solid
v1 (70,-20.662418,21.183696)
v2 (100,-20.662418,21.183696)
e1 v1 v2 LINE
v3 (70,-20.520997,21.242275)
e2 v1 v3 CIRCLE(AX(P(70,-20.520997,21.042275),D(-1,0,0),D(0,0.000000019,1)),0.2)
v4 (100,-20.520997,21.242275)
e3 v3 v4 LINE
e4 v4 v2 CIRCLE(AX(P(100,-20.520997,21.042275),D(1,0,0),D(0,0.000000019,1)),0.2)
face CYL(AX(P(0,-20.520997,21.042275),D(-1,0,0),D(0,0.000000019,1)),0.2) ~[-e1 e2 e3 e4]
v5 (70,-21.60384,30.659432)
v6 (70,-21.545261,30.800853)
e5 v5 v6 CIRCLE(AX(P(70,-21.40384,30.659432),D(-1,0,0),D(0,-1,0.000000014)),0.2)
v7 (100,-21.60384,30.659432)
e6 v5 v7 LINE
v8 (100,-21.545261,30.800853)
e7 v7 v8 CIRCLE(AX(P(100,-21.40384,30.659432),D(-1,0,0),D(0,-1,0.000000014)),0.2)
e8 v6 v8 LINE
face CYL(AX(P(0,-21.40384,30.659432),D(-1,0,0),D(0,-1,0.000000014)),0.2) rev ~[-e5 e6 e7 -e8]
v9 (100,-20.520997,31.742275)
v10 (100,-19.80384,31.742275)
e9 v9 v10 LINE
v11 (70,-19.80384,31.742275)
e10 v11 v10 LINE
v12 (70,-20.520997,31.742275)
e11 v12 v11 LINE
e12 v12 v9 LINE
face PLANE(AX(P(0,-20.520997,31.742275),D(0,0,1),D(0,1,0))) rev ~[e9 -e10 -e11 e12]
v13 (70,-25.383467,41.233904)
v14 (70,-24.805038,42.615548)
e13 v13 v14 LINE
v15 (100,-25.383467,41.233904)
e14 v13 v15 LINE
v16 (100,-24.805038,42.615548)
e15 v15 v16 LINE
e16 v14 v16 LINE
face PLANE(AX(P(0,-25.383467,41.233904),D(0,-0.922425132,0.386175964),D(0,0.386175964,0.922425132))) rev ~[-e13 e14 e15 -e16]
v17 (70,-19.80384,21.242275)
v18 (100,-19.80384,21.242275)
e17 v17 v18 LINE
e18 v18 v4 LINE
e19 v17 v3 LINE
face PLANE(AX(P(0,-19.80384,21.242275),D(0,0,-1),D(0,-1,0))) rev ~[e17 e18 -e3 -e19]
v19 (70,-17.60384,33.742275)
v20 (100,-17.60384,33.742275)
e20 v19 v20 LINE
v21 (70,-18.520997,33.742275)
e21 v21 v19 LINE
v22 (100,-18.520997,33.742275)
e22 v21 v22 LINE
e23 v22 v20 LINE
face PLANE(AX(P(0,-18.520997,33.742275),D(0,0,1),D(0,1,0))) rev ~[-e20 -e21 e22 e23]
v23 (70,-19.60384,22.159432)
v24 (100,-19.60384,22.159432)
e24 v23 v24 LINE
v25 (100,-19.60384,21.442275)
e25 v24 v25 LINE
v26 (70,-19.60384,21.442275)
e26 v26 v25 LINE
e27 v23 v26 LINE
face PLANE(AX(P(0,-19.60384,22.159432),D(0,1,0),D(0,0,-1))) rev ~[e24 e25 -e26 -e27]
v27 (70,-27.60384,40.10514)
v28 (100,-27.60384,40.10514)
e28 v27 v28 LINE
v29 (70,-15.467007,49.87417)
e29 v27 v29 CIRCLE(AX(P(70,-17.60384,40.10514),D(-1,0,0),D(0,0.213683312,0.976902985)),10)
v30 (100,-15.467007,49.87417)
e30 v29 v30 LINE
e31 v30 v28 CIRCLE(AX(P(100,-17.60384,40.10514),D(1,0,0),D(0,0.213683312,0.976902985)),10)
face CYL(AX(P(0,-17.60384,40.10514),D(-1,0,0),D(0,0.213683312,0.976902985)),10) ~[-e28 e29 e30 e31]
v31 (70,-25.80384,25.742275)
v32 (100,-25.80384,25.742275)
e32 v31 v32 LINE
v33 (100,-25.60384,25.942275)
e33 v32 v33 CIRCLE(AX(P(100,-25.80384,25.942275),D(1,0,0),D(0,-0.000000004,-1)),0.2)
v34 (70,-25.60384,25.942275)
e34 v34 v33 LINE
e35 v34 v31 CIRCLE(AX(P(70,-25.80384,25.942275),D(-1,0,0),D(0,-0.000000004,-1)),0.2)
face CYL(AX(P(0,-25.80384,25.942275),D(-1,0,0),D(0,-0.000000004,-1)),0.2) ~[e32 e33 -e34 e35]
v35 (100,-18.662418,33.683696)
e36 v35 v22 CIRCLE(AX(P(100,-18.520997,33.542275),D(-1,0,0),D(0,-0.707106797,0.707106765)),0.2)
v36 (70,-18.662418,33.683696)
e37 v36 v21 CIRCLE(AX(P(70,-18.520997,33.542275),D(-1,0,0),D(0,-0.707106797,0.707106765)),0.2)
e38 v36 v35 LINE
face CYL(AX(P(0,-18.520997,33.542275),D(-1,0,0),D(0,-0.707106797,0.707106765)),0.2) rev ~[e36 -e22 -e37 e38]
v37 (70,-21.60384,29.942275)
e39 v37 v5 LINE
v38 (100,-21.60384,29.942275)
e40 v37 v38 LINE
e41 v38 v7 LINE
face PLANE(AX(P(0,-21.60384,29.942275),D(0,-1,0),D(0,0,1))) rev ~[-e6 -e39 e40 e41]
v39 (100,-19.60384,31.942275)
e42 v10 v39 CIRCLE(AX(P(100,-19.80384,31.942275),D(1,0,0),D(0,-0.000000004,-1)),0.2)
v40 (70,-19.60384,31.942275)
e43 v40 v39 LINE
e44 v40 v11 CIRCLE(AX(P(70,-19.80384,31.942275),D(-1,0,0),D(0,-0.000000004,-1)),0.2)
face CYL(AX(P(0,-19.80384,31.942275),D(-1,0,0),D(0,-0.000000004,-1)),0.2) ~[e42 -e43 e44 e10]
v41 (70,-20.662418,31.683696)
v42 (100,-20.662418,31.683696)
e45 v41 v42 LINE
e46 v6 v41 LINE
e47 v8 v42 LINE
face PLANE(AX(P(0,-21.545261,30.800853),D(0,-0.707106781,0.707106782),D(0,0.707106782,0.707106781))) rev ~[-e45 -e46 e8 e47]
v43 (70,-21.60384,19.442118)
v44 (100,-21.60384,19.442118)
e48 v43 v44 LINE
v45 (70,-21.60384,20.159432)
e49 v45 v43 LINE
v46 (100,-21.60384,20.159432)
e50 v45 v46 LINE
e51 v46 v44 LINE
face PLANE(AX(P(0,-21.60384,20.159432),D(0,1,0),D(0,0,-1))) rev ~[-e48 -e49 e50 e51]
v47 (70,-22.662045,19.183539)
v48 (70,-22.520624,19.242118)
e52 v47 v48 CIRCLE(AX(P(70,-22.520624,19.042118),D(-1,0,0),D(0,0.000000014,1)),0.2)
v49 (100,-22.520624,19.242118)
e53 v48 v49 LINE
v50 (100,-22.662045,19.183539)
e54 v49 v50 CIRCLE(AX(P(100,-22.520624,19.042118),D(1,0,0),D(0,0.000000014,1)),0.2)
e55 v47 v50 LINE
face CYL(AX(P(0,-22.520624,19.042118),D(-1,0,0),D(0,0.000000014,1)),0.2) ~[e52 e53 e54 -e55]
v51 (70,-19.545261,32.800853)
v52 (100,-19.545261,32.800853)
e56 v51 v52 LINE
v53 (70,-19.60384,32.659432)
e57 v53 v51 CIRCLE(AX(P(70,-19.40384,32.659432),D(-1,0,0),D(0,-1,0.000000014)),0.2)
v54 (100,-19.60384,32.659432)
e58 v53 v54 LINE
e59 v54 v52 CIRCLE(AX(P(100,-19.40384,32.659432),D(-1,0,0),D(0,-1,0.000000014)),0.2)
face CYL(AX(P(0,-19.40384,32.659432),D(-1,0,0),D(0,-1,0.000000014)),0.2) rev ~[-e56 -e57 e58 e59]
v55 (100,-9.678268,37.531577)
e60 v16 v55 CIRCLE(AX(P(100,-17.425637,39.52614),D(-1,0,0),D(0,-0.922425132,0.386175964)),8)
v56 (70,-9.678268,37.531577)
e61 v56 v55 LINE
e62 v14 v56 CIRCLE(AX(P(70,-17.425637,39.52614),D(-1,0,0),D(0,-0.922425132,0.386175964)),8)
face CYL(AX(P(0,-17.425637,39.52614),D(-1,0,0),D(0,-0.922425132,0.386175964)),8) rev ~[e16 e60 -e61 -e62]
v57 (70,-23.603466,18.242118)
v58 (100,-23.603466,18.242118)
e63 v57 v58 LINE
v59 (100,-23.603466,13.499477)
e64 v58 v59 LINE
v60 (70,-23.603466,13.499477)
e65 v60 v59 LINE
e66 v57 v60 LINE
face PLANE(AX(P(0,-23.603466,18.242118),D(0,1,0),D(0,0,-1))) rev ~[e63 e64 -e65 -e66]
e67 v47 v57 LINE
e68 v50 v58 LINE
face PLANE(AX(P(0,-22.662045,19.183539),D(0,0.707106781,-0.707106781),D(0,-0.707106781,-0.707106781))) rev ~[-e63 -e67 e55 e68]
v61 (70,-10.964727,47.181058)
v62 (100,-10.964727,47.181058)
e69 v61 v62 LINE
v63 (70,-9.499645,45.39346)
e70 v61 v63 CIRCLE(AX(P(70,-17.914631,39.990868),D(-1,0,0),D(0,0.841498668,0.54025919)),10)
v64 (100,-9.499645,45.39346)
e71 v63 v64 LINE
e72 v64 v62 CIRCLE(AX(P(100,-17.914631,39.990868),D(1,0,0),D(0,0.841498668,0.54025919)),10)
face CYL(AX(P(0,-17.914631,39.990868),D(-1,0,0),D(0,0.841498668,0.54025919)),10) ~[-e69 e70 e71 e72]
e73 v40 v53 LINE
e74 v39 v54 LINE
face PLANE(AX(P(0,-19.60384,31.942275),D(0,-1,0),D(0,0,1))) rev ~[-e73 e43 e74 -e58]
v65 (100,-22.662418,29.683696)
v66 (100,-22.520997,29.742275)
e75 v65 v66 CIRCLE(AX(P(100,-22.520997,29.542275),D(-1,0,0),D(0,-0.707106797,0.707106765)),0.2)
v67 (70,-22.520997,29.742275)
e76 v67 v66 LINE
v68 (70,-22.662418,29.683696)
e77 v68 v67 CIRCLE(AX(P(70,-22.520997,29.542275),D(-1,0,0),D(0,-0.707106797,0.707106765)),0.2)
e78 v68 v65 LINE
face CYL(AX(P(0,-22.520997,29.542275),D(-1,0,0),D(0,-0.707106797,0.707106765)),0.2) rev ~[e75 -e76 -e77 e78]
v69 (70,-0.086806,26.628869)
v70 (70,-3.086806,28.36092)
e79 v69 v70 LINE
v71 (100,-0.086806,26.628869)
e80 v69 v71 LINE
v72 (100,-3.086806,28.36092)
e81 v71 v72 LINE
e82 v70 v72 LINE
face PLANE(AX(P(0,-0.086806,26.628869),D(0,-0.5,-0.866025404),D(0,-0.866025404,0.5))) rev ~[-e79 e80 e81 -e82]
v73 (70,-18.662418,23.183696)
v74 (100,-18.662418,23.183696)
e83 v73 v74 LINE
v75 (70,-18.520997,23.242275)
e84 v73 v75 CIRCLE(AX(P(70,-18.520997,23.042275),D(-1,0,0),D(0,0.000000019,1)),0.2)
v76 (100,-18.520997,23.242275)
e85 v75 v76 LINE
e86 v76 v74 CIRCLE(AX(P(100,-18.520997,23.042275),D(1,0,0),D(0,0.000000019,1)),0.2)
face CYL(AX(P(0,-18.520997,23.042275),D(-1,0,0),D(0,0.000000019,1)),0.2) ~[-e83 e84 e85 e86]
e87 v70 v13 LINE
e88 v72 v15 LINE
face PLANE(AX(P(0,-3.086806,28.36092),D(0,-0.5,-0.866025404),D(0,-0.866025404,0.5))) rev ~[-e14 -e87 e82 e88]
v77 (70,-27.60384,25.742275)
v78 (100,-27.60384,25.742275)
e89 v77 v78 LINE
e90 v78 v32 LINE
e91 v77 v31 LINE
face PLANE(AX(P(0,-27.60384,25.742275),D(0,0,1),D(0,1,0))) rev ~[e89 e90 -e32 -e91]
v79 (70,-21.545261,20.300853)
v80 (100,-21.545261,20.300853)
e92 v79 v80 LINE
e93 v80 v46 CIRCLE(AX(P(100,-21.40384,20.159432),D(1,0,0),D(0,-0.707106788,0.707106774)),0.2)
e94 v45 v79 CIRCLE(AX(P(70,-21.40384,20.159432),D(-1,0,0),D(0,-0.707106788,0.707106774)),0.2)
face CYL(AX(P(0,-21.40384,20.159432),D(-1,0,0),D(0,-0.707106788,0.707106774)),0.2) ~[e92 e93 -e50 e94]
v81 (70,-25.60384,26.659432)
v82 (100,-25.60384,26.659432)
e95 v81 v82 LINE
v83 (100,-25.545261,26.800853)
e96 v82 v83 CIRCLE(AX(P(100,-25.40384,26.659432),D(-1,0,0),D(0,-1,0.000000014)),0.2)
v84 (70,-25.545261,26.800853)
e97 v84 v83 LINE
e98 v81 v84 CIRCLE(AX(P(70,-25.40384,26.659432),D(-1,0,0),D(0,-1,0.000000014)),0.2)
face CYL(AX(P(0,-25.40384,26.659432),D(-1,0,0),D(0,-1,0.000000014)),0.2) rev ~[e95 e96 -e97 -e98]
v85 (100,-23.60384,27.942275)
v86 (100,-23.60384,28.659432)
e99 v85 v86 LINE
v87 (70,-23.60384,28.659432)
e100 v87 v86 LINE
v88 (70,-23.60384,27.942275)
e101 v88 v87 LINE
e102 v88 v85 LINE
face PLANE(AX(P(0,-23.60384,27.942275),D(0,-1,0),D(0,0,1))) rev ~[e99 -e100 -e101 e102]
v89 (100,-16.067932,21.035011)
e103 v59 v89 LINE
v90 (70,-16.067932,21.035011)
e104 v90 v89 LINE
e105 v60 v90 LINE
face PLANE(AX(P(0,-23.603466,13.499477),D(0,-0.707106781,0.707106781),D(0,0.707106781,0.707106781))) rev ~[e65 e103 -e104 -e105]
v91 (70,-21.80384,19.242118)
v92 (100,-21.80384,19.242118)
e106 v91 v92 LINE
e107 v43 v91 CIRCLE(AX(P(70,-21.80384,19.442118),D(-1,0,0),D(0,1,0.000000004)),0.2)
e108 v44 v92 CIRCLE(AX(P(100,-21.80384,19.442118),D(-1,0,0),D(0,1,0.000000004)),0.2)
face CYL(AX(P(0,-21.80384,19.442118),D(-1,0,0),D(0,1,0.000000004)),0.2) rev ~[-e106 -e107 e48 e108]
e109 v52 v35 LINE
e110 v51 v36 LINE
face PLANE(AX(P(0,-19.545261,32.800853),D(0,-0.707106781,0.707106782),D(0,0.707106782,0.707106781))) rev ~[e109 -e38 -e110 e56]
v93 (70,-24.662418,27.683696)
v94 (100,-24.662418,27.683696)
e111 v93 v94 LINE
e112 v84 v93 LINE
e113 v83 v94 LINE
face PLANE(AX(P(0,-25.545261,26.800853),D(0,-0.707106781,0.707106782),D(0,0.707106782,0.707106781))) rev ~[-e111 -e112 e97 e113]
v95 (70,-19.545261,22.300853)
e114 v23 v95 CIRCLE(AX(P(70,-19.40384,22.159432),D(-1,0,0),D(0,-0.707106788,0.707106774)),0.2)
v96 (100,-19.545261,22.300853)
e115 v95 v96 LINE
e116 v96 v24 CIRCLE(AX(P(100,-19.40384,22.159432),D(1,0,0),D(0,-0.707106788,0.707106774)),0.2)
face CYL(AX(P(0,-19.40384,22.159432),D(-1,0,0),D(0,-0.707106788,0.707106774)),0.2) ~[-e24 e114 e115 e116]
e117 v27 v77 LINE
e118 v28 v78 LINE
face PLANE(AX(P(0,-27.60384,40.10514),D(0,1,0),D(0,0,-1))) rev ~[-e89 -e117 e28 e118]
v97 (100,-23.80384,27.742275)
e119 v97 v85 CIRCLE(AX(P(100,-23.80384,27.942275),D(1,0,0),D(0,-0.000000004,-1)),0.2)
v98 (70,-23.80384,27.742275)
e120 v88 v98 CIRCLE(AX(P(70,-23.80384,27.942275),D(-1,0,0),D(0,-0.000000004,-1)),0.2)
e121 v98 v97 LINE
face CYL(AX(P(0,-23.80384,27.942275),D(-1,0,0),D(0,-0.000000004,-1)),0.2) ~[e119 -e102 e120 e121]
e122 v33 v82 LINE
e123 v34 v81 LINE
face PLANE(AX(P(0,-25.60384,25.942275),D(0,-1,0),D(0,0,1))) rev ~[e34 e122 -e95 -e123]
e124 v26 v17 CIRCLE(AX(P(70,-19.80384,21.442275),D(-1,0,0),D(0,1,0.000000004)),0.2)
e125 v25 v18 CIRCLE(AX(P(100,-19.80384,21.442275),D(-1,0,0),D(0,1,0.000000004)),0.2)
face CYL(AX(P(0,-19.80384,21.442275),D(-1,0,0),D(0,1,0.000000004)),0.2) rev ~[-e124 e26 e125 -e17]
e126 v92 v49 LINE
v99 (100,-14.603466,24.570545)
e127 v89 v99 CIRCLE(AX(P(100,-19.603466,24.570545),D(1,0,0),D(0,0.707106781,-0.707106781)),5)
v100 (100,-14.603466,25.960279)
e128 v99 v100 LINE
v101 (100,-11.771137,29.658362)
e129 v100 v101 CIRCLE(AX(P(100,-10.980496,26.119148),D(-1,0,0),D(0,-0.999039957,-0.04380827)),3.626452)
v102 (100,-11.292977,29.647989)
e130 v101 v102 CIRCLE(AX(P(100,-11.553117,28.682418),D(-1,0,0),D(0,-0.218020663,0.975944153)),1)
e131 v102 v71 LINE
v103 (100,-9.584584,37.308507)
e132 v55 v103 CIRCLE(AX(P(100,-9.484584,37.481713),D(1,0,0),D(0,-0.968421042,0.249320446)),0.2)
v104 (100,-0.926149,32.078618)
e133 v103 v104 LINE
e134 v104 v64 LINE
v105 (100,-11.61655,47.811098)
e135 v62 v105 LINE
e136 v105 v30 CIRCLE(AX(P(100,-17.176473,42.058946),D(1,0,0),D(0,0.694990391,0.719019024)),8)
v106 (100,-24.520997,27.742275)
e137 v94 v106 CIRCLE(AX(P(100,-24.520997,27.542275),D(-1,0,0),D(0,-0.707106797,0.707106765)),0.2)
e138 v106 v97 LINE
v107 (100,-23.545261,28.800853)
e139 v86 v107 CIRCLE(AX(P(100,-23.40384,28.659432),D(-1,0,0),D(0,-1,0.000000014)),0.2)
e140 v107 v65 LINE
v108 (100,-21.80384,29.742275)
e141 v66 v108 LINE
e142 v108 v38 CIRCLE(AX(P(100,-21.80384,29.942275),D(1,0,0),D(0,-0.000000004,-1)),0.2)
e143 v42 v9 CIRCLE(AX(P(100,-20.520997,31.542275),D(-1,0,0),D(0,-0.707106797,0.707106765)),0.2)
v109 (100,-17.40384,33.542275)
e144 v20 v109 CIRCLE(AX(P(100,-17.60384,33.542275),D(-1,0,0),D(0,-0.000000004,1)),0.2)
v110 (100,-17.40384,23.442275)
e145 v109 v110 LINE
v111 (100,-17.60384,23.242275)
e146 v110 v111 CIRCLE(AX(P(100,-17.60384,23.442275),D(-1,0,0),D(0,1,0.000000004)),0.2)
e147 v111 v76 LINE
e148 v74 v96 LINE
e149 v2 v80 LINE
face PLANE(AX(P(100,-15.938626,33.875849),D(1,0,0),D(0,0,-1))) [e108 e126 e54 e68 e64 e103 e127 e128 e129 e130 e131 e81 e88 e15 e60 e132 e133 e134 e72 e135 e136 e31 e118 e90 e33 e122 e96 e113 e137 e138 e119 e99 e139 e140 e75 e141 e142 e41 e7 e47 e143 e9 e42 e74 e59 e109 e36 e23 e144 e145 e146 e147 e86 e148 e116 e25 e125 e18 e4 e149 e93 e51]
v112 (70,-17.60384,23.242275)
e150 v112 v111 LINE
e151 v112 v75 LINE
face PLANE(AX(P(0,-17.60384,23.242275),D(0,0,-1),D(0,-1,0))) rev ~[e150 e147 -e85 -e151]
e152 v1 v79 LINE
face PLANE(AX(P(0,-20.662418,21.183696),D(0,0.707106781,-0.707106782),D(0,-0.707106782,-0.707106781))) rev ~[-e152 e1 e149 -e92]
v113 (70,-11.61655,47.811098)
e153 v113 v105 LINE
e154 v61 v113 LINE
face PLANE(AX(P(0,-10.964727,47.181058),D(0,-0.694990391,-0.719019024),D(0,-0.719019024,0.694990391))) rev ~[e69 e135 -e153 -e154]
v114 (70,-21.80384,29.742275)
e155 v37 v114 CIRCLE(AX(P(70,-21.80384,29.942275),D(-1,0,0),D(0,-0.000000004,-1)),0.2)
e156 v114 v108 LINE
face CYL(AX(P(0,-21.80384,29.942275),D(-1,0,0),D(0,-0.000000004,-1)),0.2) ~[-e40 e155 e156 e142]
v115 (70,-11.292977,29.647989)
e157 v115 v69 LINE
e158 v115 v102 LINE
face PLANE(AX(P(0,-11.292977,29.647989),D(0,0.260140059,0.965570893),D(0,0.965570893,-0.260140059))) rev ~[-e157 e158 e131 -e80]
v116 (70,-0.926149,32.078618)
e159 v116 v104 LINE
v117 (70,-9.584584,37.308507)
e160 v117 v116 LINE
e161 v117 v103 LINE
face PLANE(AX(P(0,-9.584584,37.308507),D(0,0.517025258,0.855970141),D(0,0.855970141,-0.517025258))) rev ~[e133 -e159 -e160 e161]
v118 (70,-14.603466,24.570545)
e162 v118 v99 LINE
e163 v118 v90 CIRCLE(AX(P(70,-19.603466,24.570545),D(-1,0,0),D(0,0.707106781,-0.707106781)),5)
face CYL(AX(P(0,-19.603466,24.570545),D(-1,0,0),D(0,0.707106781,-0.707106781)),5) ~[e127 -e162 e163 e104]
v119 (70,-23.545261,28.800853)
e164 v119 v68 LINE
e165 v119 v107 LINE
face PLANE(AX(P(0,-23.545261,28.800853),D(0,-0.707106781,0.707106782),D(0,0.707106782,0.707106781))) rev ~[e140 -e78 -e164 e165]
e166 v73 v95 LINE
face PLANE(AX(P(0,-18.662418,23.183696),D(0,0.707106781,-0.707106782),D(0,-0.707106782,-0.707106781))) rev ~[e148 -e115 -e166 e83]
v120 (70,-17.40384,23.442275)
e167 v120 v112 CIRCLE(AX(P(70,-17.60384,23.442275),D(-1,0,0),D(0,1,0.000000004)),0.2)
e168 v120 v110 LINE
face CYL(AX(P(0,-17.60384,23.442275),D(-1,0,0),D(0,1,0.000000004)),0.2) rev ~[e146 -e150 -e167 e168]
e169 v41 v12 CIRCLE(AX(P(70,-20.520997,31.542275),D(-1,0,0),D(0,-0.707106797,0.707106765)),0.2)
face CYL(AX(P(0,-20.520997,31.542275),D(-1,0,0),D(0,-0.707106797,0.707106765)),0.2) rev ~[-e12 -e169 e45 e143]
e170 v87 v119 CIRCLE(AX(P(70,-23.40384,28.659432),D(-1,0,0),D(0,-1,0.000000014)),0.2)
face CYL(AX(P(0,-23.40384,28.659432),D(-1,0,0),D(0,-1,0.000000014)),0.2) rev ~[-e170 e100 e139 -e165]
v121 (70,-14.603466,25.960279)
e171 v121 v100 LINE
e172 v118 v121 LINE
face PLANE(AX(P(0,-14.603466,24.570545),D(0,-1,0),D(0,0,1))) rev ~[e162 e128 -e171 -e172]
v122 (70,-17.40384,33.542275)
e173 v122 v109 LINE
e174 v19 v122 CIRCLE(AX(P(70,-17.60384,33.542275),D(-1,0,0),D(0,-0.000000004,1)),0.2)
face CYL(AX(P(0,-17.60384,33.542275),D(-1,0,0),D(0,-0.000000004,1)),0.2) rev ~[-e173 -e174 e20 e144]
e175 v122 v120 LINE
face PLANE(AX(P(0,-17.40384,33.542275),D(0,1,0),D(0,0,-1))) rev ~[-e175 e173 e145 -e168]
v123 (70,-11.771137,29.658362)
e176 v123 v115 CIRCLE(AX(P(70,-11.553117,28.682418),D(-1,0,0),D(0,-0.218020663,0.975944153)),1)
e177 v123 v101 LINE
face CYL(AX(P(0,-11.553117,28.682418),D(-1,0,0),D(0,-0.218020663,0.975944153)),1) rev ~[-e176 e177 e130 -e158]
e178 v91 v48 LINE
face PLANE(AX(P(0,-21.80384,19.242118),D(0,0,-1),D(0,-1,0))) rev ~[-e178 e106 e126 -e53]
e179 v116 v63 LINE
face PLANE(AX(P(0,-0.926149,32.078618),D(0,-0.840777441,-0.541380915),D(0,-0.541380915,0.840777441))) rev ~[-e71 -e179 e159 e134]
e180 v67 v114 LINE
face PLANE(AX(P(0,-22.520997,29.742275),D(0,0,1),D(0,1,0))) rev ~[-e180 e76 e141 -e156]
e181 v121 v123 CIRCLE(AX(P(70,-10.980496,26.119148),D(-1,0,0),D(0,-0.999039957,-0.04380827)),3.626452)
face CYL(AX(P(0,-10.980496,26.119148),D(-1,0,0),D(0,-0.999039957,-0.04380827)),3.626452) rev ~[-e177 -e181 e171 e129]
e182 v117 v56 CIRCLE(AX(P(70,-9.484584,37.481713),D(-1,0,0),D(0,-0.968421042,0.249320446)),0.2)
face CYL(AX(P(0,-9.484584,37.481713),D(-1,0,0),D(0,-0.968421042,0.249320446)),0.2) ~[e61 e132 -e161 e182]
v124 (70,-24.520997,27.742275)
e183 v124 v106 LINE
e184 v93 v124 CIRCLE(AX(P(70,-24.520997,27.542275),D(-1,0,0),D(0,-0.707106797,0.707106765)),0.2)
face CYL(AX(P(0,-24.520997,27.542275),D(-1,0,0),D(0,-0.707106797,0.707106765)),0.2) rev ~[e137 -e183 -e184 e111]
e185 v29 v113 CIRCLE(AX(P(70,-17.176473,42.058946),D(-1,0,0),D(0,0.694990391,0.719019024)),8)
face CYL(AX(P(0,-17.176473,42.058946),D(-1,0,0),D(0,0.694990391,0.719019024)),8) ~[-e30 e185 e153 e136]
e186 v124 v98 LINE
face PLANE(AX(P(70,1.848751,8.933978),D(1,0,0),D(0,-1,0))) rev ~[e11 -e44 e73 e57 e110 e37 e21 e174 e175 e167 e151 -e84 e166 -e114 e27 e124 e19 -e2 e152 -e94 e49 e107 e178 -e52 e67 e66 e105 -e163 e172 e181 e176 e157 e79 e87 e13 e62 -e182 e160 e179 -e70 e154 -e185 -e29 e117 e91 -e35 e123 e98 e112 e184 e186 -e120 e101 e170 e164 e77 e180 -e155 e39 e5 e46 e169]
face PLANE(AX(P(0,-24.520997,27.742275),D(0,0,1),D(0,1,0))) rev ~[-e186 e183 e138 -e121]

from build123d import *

# Parameters (mm, degrees)
BOSS_EXTRUDE1_DEPTH     = 100
CUT_EXTRUDE1_DEPTH      = 25
CUT_EXTRUDE1_DEPTH_BACK = 23


with BuildPart() as part:
    # Sketch1 → Boss-Extrude1 (new body)
    with BuildSketch(Plane(origin=(0, 0, 0), x_dir=(0, 0, -1), z_dir=(1, 0, 0))):
        with BuildLine():
            Line((-25.742274507, -27.603839777), (-25.742274507, -25.803839777))
            ThreePointArc((-25.742274507, -25.803839777), (-25.800853151, -25.66241842), (-25.942274507, -25.603839777))
            Line((-25.942274507, -25.603839777), (-26.659431795, -25.603839777))
            ThreePointArc((-26.659431795, -25.603839777), (-26.735968481, -25.588615683), (-26.800853151, -25.545261133))
            Line((-26.800853151, -25.545261133), (-27.683695863, -24.66241842))
            ThreePointArc((-27.683695863, -24.66241842), (-27.727050414, -24.597533751), (-27.742274507, -24.520997064))
            Line((-27.742274507, -24.520997064), (-27.742274507, -23.803839777))
            ThreePointArc((-27.742274507, -23.803839777), (-27.800853151, -23.66241842), (-27.942274507, -23.603839777))
            Line((-27.942274507, -23.603839777), (-28.659431795, -23.603839777))
            ThreePointArc((-28.659431795, -23.603839777), (-28.735968481, -23.588615683), (-28.800853151, -23.545261133))
            Line((-28.800853151, -23.545261133), (-29.683695863, -22.66241842))
            ThreePointArc((-29.683695863, -22.66241842), (-29.727050414, -22.597533751), (-29.742274507, -22.520997064))
            Line((-29.742274507, -22.520997064), (-29.742274507, -21.803839777))
            ThreePointArc((-29.742274507, -21.803839777), (-29.800853151, -21.66241842), (-29.942274507, -21.603839777))
            Line((-29.942274507, -21.603839777), (-30.659431795, -21.603839777))
            ThreePointArc((-30.659431795, -21.603839777), (-30.735968481, -21.588615683), (-30.800853151, -21.545261133))
            Line((-30.800853151, -21.545261133), (-31.683695863, -20.66241842))
            ThreePointArc((-31.683695863, -20.66241842), (-31.727050414, -20.597533751), (-31.742274507, -20.520997064))
            Line((-31.742274507, -20.520997064), (-31.742274507, -19.803839777))
            ThreePointArc((-31.742274507, -19.803839777), (-31.800853151, -19.66241842), (-31.942274507, -19.603839777))
            Line((-31.942274507, -19.603839777), (-32.659431795, -19.603839777))
            ThreePointArc((-32.659431795, -19.603839777), (-32.735968481, -19.588615683), (-32.800853151, -19.545261133))
            Line((-32.800853151, -19.545261133), (-33.683695863, -18.66241842))
            ThreePointArc((-33.683695863, -18.66241842), (-33.727050414, -18.597533751), (-33.742274507, -18.520997064))
            Line((-33.742274507, -18.520997064), (-33.742274507, -17.603839777))
            ThreePointArc((-33.742274507, -17.603839777), (-33.683695863, -17.46241842), (-33.542274507, -17.403839777))
            Line((-33.542274507, -17.403839777), (-23.442274507, -17.403839777))
            ThreePointArc((-23.442274507, -17.403839777), (-23.300853151, -17.46241842), (-23.242274507, -17.603839777))
            Line((-23.242274507, -17.603839777), (-23.242274507, -18.520997064))
            ThreePointArc((-23.242274507, -18.520997064), (-23.227050414, -18.597533751), (-23.183695863, -18.66241842))
            Line((-23.183695863, -18.66241842), (-22.300853151, -19.545261133))
            ThreePointArc((-22.300853151, -19.545261133), (-22.235968481, -19.588615683), (-22.159431795, -19.603839777))
            Line((-22.159431795, -19.603839777), (-21.442274507, -19.603839777))
            ThreePointArc((-21.442274507, -19.603839777), (-21.300853151, -19.66241842), (-21.242274507, -19.803839777))
            Line((-21.242274507, -19.803839777), (-21.242274507, -20.520997064))
            ThreePointArc((-21.242274507, -20.520997064), (-21.227050414, -20.597533751), (-21.183695863, -20.66241842))
            Line((-21.183695863, -20.66241842), (-20.300853151, -21.545261133))
            ThreePointArc((-20.300853151, -21.545261133), (-20.235968481, -21.588615683), (-20.159431795, -21.603839777))
            Line((-20.159431795, -21.603839777), (-19.442118142, -21.603839777))
            ThreePointArc((-19.442118142, -21.603839777), (-19.300696786, -21.66241842), (-19.242118142, -21.803839777))
            Line((-19.242118142, -21.803839777), (-19.242118142, -22.520623569))
            ThreePointArc((-19.242118142, -22.520623569), (-19.226894049, -22.597160256), (-19.183539499, -22.662044925))
            Line((-19.183539499, -22.662044925), (-18.242118142, -23.603466282))
            Line((-18.242118142, -23.603466282), (-17.742118142, -23.603466282))
            Line((-17.742118142, -23.603466282), (-13.499477455, -23.603466282))
            Line((-13.499477455, -23.603466282), (-21.035011361, -16.067932376))
            ThreePointArc((-21.035011361, -16.067932376), (-22.657128105, -14.984068619), (-24.570545267, -14.603466282))
            Line((-24.570545267, -14.603466282), (-25.960279372, -14.603466282))
            ThreePointArc((-25.960279372, -14.603466282), (-28.324188996, -13.859549098), (-29.658362326, -11.771137499))
            ThreePointArc((-29.658362326, -11.771137499), (-29.682182939, -11.531427852), (-29.647989066, -11.292976777))
            Line((-29.647989066, -11.292976777), (-26.628869488, -0.086805783))
            Line((-26.628869488, -0.086805783), (-28.360920296, -3.086805783))
            Line((-28.360920296, -3.086805783), (-41.233903642, -25.383466984))
            Line((-41.233903642, -25.383466984), (-42.615547882, -24.805037605))
            ThreePointArc((-42.615547882, -24.805037605), (-47.10930963, -14.877001433), (-37.531576616, -9.678268204))
            ThreePointArc((-37.531576616, -9.678268204), (-37.404269433, -9.668981846), (-37.308507446, -9.584583996))
            Line((-37.308507446, -9.584583996), (-32.078617814, -0.926149435))
            Line((-32.078617814, -0.926149435), (-45.393459966, -9.499644714))
            ThreePointArc((-45.393459966, -9.499644714), (-46.329728955, -10.180367196), (-47.181058303, -10.964727481))
            Line((-47.181058303, -10.964727481), (-47.811097829, -11.616550026))
            ThreePointArc((-47.811097829, -11.616550026), (-49.110536056, -13.39823645), (-49.874169518, -15.467006653))
            ThreePointArc((-49.874169518, -15.467006653), (-47.89514388, -23.874073774), (-40.105139668, -27.603839777))
            Line((-40.105139668, -27.603839777), (-25.742274507, -27.603839777))
        make_face()
    extrude(amount=BOSS_EXTRUDE1_DEPTH)

    # Sketch2 → Cut-Extrude1 (cut, two sides: drawn at the far end of the back side and taken through both)
    with BuildSketch(Plane(origin=(76.97885739, -34.993991596, 31.933978), x_dir=(1, 0, 0), z_dir=(0, 0, 1)).offset(-CUT_EXTRUDE1_DEPTH_BACK)):
        Polygon((-46.97885739, 36.842742805), (-6.97885739, 36.842742805), (-6.97885739, -2.226993345), (-46.97885739, -2.226993345), (-84.546864986, -2.226993345), (-84.546864986, 36.842742805), align=None)
    extrude(amount=CUT_EXTRUDE1_DEPTH + CUT_EXTRUDE1_DEPTH_BACK, mode=Mode.SUBTRACT)


solid = part.part
